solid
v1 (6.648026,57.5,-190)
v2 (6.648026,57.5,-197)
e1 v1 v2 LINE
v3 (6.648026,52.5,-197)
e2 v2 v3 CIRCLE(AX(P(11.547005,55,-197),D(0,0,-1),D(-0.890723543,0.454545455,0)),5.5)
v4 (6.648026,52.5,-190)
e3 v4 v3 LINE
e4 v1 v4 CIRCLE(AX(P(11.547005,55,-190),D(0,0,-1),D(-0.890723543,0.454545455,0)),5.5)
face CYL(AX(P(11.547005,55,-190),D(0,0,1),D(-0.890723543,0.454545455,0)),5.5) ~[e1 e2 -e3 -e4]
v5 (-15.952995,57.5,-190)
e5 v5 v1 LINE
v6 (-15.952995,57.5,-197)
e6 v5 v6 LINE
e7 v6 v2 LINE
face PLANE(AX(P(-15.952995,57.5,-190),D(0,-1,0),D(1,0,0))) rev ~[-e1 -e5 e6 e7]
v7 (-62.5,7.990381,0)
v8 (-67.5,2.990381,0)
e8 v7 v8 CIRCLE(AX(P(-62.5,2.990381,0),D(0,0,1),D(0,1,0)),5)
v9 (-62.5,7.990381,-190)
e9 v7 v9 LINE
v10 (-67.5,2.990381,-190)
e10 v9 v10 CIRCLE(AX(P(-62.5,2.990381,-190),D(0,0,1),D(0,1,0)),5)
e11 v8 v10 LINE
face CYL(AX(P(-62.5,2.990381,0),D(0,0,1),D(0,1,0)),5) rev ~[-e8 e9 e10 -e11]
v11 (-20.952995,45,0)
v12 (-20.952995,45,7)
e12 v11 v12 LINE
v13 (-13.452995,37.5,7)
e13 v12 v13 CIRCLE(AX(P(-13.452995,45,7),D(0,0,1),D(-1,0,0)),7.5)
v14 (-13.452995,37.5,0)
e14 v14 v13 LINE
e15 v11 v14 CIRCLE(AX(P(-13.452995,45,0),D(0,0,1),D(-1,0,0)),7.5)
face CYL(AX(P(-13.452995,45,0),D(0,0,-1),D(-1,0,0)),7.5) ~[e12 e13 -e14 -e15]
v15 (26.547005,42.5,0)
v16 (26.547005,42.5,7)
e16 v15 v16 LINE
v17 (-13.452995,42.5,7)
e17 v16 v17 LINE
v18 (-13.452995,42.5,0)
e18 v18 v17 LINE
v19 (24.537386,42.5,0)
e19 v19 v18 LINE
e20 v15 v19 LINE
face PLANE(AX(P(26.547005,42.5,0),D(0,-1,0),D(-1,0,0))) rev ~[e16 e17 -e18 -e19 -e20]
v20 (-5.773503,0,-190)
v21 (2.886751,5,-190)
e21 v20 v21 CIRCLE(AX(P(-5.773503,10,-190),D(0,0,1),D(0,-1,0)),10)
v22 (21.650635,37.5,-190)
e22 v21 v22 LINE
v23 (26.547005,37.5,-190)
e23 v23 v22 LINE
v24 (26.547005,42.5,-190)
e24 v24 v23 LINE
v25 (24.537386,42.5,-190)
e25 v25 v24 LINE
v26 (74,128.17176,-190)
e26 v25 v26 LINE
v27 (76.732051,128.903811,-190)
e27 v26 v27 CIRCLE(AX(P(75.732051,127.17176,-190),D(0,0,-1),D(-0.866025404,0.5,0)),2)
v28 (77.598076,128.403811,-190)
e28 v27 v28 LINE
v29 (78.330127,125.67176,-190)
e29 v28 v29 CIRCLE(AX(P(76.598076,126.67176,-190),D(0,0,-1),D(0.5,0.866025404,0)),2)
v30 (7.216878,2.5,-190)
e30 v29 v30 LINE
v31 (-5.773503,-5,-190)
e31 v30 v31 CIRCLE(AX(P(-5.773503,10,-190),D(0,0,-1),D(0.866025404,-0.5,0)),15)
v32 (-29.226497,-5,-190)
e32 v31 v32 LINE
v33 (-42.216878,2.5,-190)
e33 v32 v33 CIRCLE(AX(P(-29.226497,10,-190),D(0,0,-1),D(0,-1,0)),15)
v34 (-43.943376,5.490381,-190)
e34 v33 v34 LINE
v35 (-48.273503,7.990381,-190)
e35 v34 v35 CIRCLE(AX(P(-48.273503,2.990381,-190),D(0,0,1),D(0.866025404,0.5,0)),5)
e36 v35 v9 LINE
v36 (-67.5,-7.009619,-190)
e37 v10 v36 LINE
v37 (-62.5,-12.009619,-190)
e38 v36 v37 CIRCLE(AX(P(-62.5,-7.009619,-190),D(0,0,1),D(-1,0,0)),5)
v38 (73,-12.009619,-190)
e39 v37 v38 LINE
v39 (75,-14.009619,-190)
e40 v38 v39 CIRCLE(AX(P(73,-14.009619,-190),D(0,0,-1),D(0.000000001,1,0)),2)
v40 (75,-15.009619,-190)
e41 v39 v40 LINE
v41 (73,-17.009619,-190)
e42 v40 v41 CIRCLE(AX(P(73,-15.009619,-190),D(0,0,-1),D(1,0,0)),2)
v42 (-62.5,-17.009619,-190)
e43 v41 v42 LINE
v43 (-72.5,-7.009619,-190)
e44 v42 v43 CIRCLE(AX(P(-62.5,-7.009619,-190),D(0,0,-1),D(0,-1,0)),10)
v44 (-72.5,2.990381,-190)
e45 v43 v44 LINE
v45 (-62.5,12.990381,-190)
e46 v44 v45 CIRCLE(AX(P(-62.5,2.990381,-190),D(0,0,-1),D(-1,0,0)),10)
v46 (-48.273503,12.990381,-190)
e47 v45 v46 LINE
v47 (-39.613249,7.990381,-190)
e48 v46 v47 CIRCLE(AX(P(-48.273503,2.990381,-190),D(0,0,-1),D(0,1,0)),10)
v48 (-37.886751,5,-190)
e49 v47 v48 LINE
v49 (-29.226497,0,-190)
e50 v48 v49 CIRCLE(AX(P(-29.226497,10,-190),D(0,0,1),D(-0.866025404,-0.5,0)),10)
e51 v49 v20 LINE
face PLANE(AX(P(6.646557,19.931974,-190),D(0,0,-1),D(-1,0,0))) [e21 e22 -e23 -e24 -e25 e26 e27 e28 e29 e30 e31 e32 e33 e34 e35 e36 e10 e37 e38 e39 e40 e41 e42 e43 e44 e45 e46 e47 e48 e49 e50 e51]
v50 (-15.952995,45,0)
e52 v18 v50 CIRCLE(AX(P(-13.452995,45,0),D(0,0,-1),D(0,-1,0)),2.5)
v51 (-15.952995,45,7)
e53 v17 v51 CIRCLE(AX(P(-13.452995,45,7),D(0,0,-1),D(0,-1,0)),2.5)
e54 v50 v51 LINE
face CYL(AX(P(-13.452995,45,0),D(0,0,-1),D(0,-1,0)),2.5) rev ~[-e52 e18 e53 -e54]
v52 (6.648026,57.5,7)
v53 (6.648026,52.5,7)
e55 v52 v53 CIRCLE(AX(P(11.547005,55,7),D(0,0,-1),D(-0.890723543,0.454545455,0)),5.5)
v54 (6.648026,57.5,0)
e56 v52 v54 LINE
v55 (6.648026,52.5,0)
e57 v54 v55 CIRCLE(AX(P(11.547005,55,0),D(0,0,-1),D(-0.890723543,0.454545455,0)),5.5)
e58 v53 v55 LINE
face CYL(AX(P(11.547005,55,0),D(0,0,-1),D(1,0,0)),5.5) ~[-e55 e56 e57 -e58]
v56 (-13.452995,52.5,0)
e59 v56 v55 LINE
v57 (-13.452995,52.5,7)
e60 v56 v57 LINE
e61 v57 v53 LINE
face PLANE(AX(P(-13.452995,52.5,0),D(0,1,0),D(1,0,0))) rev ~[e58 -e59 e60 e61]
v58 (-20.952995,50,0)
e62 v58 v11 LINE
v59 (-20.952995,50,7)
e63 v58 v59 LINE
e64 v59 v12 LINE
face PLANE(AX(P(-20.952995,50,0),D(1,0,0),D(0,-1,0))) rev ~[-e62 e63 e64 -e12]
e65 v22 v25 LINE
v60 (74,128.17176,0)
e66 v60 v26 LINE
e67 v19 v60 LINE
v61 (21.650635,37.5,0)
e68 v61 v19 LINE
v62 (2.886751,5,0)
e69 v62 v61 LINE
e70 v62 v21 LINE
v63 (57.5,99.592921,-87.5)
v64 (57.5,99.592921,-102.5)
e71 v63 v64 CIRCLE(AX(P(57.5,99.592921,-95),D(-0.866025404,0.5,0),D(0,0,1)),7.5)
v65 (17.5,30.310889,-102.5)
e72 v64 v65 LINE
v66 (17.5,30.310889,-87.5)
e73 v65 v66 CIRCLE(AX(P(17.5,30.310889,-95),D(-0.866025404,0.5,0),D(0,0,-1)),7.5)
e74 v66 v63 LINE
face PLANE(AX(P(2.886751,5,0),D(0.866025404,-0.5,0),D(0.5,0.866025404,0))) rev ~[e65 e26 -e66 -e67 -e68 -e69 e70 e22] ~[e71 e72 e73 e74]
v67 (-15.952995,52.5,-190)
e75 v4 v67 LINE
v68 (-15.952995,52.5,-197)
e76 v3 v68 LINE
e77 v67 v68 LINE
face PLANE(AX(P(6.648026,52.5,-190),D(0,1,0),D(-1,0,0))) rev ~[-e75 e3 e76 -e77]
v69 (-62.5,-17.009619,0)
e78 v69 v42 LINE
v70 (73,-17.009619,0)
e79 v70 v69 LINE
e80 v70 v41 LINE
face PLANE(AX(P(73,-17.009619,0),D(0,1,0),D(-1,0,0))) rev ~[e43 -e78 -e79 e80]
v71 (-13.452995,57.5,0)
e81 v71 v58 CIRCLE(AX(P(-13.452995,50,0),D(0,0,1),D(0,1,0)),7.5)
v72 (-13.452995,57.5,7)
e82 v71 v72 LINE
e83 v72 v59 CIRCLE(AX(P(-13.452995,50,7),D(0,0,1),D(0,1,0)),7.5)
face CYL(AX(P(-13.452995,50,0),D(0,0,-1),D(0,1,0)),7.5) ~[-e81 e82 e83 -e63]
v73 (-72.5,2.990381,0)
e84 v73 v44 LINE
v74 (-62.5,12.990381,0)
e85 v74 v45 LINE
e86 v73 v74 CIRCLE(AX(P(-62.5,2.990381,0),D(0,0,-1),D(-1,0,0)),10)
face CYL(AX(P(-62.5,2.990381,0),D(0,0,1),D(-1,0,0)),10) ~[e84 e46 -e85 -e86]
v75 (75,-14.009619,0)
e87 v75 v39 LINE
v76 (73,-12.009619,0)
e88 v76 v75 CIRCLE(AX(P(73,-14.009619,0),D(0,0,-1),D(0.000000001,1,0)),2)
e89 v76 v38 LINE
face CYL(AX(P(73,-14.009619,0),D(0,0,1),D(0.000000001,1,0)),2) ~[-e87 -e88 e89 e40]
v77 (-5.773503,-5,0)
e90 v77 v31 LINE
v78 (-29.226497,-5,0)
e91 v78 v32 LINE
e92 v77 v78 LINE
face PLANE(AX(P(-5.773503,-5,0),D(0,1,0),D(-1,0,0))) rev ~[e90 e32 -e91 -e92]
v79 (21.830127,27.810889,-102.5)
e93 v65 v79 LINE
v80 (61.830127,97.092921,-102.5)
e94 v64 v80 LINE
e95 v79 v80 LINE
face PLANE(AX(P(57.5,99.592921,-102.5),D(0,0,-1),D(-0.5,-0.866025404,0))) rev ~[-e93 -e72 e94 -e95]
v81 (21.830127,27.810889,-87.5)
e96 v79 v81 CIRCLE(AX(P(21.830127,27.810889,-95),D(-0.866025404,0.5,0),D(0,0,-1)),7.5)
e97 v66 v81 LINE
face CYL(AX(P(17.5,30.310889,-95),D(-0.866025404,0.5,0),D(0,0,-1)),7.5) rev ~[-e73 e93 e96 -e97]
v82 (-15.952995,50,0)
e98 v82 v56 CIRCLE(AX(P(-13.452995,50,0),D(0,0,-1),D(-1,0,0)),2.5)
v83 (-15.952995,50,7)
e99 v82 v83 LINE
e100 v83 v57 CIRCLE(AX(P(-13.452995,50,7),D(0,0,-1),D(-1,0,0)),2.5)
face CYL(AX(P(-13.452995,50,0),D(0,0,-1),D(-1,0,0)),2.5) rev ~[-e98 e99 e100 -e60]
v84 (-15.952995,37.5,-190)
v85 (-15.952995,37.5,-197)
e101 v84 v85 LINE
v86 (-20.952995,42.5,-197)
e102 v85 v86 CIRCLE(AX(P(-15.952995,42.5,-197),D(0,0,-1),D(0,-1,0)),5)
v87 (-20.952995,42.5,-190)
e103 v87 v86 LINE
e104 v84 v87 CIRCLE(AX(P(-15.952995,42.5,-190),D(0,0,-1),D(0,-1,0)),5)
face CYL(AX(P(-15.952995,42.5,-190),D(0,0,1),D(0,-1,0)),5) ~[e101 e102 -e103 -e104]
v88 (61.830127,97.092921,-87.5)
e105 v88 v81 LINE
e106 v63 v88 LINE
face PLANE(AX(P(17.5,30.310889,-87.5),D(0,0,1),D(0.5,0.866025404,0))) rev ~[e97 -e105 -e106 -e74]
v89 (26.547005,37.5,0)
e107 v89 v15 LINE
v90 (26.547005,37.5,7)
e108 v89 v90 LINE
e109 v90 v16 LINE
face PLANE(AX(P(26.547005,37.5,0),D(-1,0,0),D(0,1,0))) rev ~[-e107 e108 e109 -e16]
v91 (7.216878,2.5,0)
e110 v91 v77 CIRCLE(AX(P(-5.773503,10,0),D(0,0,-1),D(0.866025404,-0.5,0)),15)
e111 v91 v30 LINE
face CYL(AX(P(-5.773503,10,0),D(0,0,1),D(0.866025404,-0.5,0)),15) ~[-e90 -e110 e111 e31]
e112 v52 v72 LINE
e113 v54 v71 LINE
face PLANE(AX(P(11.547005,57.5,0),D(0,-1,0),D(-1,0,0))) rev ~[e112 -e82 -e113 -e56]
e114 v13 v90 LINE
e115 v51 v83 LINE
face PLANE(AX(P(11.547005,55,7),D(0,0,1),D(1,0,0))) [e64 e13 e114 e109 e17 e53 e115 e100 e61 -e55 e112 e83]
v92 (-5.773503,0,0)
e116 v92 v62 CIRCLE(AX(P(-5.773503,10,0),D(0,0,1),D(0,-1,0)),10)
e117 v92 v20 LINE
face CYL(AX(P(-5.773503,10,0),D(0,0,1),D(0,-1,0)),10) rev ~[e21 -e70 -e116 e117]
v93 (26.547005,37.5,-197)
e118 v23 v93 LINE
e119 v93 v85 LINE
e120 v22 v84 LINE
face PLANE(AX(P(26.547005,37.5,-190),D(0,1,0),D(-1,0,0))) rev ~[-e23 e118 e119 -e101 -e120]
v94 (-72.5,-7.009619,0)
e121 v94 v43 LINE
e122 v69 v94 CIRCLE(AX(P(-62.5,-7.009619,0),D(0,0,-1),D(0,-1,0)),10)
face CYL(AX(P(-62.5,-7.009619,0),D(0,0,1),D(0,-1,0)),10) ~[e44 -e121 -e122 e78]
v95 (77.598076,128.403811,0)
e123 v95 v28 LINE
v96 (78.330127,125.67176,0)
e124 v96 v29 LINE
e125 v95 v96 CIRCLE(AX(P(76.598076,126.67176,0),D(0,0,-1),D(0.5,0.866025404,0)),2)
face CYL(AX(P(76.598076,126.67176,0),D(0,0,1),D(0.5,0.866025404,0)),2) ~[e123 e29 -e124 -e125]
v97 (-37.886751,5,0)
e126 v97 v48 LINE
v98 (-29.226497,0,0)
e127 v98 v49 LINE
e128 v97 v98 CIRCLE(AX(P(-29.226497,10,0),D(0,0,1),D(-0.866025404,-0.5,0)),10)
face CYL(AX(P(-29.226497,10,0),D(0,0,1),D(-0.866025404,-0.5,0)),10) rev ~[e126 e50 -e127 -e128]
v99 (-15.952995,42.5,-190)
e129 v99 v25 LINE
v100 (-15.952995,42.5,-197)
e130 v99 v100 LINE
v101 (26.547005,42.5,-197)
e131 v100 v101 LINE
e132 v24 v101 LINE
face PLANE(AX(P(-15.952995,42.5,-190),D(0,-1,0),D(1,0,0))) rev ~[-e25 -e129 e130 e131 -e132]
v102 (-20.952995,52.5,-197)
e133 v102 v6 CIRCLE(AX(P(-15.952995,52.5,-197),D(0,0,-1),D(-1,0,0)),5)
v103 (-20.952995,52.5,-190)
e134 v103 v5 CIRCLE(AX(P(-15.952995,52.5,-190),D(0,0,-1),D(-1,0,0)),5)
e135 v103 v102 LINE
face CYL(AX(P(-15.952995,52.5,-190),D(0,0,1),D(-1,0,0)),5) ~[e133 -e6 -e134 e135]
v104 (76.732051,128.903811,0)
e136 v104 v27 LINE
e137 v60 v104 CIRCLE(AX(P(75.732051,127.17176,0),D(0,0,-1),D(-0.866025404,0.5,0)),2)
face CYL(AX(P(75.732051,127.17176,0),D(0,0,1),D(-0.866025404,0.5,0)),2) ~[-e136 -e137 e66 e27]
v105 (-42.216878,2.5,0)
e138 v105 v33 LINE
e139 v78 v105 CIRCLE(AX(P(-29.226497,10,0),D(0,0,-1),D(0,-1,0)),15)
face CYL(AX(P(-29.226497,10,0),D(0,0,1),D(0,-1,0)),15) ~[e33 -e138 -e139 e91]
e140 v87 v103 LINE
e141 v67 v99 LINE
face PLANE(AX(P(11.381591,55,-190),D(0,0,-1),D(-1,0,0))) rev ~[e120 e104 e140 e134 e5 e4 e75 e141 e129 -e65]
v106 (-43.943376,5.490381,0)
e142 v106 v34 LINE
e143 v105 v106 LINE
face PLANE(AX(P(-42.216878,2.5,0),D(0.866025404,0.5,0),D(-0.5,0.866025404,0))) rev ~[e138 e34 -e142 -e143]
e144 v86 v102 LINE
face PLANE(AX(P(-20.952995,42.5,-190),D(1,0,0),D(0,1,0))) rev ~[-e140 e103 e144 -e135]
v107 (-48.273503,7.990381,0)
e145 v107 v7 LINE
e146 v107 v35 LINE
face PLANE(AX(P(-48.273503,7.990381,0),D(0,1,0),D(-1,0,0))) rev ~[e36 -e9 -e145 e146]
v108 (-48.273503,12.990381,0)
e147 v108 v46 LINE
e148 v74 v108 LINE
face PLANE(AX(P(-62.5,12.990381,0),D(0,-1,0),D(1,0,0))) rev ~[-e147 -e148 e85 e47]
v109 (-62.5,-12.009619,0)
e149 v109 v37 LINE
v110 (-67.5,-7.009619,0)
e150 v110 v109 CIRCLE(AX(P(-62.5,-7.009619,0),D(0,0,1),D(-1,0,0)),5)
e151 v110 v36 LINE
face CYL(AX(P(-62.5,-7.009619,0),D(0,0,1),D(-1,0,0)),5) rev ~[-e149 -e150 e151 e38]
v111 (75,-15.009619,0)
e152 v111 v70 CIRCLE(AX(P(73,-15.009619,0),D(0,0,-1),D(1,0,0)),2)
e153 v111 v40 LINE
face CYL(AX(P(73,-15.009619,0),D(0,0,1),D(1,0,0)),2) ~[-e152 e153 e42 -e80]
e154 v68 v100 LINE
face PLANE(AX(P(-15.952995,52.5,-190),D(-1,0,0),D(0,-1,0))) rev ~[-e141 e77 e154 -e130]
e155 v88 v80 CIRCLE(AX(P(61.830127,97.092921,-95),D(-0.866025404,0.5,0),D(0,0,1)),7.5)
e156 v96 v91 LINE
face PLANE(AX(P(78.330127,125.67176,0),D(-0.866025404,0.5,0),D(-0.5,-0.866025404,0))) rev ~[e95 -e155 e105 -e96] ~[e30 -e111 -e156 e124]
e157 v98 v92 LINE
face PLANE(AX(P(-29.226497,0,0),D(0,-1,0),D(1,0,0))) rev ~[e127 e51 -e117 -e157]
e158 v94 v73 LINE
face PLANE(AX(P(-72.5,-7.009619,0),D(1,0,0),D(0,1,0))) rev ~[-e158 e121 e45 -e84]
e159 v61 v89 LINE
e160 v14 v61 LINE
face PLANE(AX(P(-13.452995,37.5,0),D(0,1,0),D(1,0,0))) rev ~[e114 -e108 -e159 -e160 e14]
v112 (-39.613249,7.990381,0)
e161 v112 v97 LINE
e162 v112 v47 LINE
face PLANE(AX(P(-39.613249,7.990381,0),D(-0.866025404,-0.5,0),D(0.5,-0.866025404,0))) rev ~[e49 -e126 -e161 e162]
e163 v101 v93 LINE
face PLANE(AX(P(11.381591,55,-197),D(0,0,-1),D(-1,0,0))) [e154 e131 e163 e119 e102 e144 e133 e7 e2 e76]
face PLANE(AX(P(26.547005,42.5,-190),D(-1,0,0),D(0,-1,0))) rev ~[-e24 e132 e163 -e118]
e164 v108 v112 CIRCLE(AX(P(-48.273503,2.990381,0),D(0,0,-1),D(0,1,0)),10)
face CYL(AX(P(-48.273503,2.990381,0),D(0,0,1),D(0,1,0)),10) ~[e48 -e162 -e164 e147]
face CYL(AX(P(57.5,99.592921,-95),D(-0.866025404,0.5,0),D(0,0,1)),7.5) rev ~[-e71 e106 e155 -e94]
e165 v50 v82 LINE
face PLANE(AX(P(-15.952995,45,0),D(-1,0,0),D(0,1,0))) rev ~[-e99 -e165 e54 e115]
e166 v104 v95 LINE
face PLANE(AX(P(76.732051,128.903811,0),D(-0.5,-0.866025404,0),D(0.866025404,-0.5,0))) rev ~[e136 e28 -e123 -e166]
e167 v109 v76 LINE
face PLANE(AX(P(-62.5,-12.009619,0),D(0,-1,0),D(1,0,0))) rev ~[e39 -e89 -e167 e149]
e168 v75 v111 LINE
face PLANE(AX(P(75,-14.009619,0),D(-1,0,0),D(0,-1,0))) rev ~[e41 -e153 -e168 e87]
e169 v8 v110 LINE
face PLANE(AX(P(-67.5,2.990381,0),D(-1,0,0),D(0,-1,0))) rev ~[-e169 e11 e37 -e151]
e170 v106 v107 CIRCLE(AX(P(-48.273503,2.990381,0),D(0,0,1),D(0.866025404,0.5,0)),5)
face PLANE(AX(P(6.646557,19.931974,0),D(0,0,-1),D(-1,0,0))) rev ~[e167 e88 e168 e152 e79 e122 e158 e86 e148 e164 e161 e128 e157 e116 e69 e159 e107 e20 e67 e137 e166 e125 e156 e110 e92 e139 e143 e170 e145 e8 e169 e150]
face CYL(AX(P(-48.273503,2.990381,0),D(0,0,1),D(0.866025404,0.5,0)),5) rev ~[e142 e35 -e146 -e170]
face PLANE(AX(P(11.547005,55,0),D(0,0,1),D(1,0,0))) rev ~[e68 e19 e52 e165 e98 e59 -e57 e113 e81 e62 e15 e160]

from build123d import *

# Parameters (mm, degrees)
EXTRUDE_12_DEPTH    = 190
CUT_EXTRUDE_1_REACH = 78.573
SKETCH_3_12_R       = 5.5
EXTRUDE_13_DEPTH    = 7
EXTRUDE_14_DEPTH    = 7
EXTRUDE_16_DEPTH    = 7


with BuildPart() as part:
    # Sketch 3 → Extrude 12 (new body)
    with BuildSketch(Plane.XY):
        with BuildLine():
            ThreePointArc((74, 128.17175976), (75.214412717, 129.103611413), (76.732050808, 128.903810568))
            Line((76.732050808, 128.903810568), (77.598076211, 128.403810568))
            ThreePointArc((77.598076211, 128.403810568), (78.529927864, 127.18939785), (78.330127019, 125.67175976))
            Line((78.330127019, 125.67175976), (7.216878365, 2.5))
            ThreePointArc((7.216878365, 2.5), (1.726497308, -2.990381057), (-5.773502692, -5))
            Line((-5.773502692, -5), (-29.226497308, -5))
            ThreePointArc((-29.226497308, -5), (-36.726497308, -2.990381057), (-42.216878365, 2.5))
            Line((-42.216878365, 2.5), (-43.943375673, 5.490381057))
            ThreePointArc((-43.943375673, 5.490381057), (-45.773502692, 7.320508076), (-48.273502692, 7.990381057))
            Line((-48.273502692, 7.990381057), (-62.5, 7.990381057))
            ThreePointArc((-62.5, 7.990381057), (-66.035533906, 6.525914963), (-67.5, 2.990381057))
            Line((-67.5, 2.990381057), (-67.5, -7.009618943))
            ThreePointArc((-67.5, -7.009618943), (-66.035533906, -10.545152849), (-62.5, -12.009618943))
            Line((-62.5, -12.009618943), (73, -12.009618943))
            ThreePointArc((73, -12.009618943), (74.414213562, -12.595405381), (75, -14.009618943))
            Line((75, -14.009618943), (75, -15.009618943))
            ThreePointArc((75, -15.009618943), (74.414213562, -16.423832506), (73, -17.009618943))
            Line((73, -17.009618943), (-62.5, -17.009618943))
            ThreePointArc((-62.5, -17.009618943), (-69.571067812, -14.080686755), (-72.5, -7.009618943))
            Line((-72.5, -7.009618943), (-72.5, 2.990381057))
            ThreePointArc((-72.5, 2.990381057), (-69.571067812, 10.061448869), (-62.5, 12.990381057))
            Line((-62.5, 12.990381057), (-48.273502692, 12.990381057))
            ThreePointArc((-48.273502692, 12.990381057), (-43.273502692, 11.650635095), (-39.613248654, 7.990381057))
            Line((-39.613248654, 7.990381057), (-37.886751346, 5))
            ThreePointArc((-37.886751346, 5), (-34.226497308, 1.339745962), (-29.226497308, 0))
            Line((-29.226497308, 0), (-5.773502692, 0))
            ThreePointArc((-5.773502692, 0), (-0.773502692, 1.339745962), (2.886751346, 5))
            Line((2.886751346, 5), (74, 128.17175976))
        make_face()
    extrude(amount=-EXTRUDE_12_DEPTH)

    # Sketch 19 → Cut-Extrude 1 (cut, up to next)
    with BuildSketch(Plane(origin=(0, 0, 0), x_dir=(0, 0, 1), z_dir=(-0.866025404, 0.5, 0)), mode=Mode.PRIVATE) as cut_extrude_1_sk1:
        with BuildLine():
            Line((-95, 107.5), (-95, 115))
            Line((-95, 115), (-102.5, 115))
            ThreePointArc((-102.5, 115), (-100.303300859, 109.696699141), (-95, 107.5))
        make_face()
    cut_extrude_1_tool1 = extrude(cut_extrude_1_sk1.sketch, amount=-CUT_EXTRUDE_1_REACH, mode=Mode.PRIVATE) & part.part
    add(cut_extrude_1_tool1.solids().sort_by_distance((55.908451, 96.836277, -98.183099))[0], mode=Mode.SUBTRACT)
    # Sketch 19 → Cut-Extrude 1 (cut, up to next)
    with BuildSketch(Plane(origin=(0, 0, 0), x_dir=(0, 0, 1), z_dir=(-0.866025404, 0.5, 0)), mode=Mode.PRIVATE) as cut_extrude_1_sk2:
        with BuildLine():
            Line((-87.5, 115), (-95, 115))
            Line((-95, 115), (-95, 107.5))
            ThreePointArc((-95, 107.5), (-89.696699141, 109.696699141), (-87.5, 115))
        make_face()
    cut_extrude_1_tool2 = extrude(cut_extrude_1_sk2.sketch, amount=-CUT_EXTRUDE_1_REACH, mode=Mode.PRIVATE) & part.part
    add(cut_extrude_1_tool2.solids().sort_by_distance((55.908451, 96.836277, -91.816901))[0], mode=Mode.SUBTRACT)
    # Sketch 19 → Cut-Extrude 1 (cut, up to next)
    with BuildSketch(Plane(origin=(0, 0, 0), x_dir=(0, 0, 1), z_dir=(-0.866025404, 0.5, 0)), mode=Mode.PRIVATE) as cut_extrude_1_sk3:
        with BuildLine():
            Line((-102.5, 115), (-95, 115))
            Line((-95, 115), (-87.5, 115))
            ThreePointArc((-87.5, 115), (-95, 122.5), (-102.5, 115))
        make_face()
    cut_extrude_1_tool3 = extrude(cut_extrude_1_sk3.sketch, amount=-CUT_EXTRUDE_1_REACH, mode=Mode.PRIVATE) & part.part
    add(cut_extrude_1_tool3.solids().sort_by_distance((59.091549, 102.349566, -95))[0], mode=Mode.SUBTRACT)
    # Sketch 19 → Cut-Extrude 1 (cut, up to next)
    with BuildSketch(Plane(origin=(0, 0, 0), x_dir=(0, 0, 1), z_dir=(-0.866025404, 0.5, 0)), mode=Mode.PRIVATE) as cut_extrude_1_sk4:
        with BuildLine():
            ThreePointArc((-95, 107.5), (-100.303300859, 109.696699141), (-102.5, 115))
            Line((-102.5, 115), (-102.5, 35))
            ThreePointArc((-102.5, 35), (-100.303300859, 40.303300859), (-95, 42.5))
            Line((-95, 42.5), (-95, 107.5))
        make_face()
    cut_extrude_1_tool4 = extrude(cut_extrude_1_sk4.sketch, amount=-CUT_EXTRUDE_1_REACH, mode=Mode.PRIVATE) & part.part
    add(cut_extrude_1_tool4.solids().sort_by_distance((37.5, 64.951905, -98.8479))[0], mode=Mode.SUBTRACT)
    # Sketch 19 → Cut-Extrude 1 (cut, up to next)
    with BuildSketch(Plane(origin=(0, 0, 0), x_dir=(0, 0, 1), z_dir=(-0.866025404, 0.5, 0)), mode=Mode.PRIVATE) as cut_extrude_1_sk5:
        with BuildLine():
            ThreePointArc((-87.5, 115), (-89.696699141, 109.696699141), (-95, 107.5))
            Line((-95, 107.5), (-95, 42.5))
            ThreePointArc((-95, 42.5), (-89.696699141, 40.303300859), (-87.5, 35))
            Line((-87.5, 35), (-87.5, 115))
        make_face()
    cut_extrude_1_tool5 = extrude(cut_extrude_1_sk5.sketch, amount=-CUT_EXTRUDE_1_REACH, mode=Mode.PRIVATE) & part.part
    add(cut_extrude_1_tool5.solids().sort_by_distance((37.5, 64.951905, -91.1521))[0], mode=Mode.SUBTRACT)
    # Sketch 19 → Cut-Extrude 1 (cut, up to next)
    with BuildSketch(Plane(origin=(0, 0, 0), x_dir=(0, 0, 1), z_dir=(-0.866025404, 0.5, 0)), mode=Mode.PRIVATE) as cut_extrude_1_sk6:
        with BuildLine():
            ThreePointArc((-95, 42.5), (-100.303300859, 40.303300859), (-102.5, 35))
            Line((-102.5, 35), (-95, 35))
            Line((-95, 35), (-95, 42.5))
        make_face()
    cut_extrude_1_tool6 = extrude(cut_extrude_1_sk6.sketch, amount=-CUT_EXTRUDE_1_REACH, mode=Mode.PRIVATE) & part.part
    add(cut_extrude_1_tool6.solids().sort_by_distance((19.091549, 33.067534, -98.183099))[0], mode=Mode.SUBTRACT)
    # Sketch 19 → Cut-Extrude 1 (cut, up to next)
    with BuildSketch(Plane(origin=(0, 0, 0), x_dir=(0, 0, 1), z_dir=(-0.866025404, 0.5, 0)), mode=Mode.PRIVATE) as cut_extrude_1_sk7:
        with BuildLine():
            Line((-95, 35), (-102.5, 35))
            ThreePointArc((-102.5, 35), (-95, 27.5), (-87.5, 35))
            Line((-87.5, 35), (-95, 35))
        make_face()
    cut_extrude_1_tool7 = extrude(cut_extrude_1_sk7.sketch, amount=-CUT_EXTRUDE_1_REACH, mode=Mode.PRIVATE) & part.part
    add(cut_extrude_1_tool7.solids().sort_by_distance((15.908451, 27.554245, -95))[0], mode=Mode.SUBTRACT)
    # Sketch 19 → Cut-Extrude 1 (cut, up to next)
    with BuildSketch(Plane(origin=(0, 0, 0), x_dir=(0, 0, 1), z_dir=(-0.866025404, 0.5, 0)), mode=Mode.PRIVATE) as cut_extrude_1_sk8:
        with BuildLine():
            ThreePointArc((-87.5, 35), (-89.696699141, 40.303300859), (-95, 42.5))
            Line((-95, 42.5), (-95, 35))
            Line((-95, 35), (-87.5, 35))
        make_face()
    cut_extrude_1_tool8 = extrude(cut_extrude_1_sk8.sketch, amount=-CUT_EXTRUDE_1_REACH, mode=Mode.PRIVATE) & part.part
    add(cut_extrude_1_tool8.solids().sort_by_distance((19.091549, 33.067534, -91.816901))[0], mode=Mode.SUBTRACT)



with BuildPart() as body_2:
    # Sketch 3_12 → Extrude 13 (new body)
    with BuildSketch(Plane.XY):
        with Locations((11.547005384, 55)):
            Circle(SKETCH_3_12_R)
    extrude(amount=EXTRUDE_13_DEPTH)


with BuildPart() as part_1:
    add(part.part)

    add(body_2.part)  # Extrude 14 merges body 2
    # Sketch 20 → Extrude 14 (add)
    with BuildSketch(Plane.XY):
        with BuildLine():
            Line((-13.452994616, 55), (11.547005384, 55))
            Line((11.547005384, 55), (11.547005384, 57.5))
            Line((11.547005384, 57.5), (-13.452994616, 57.5))
            ThreePointArc((-13.452994616, 57.5), (-18.756295475, 55.303300859), (-20.952994616, 50))
            Line((-20.952994616, 50), (-20.952994616, 45))
            ThreePointArc((-20.952994616, 45), (-18.756295475, 39.696699141), (-13.452994616, 37.5))
            Line((-13.452994616, 37.5), (26.547005384, 37.5))
            Line((26.547005384, 37.5), (26.547005384, 40))
            Line((26.547005384, 40), (-13.452994616, 40))
            ThreePointArc((-13.452994616, 40), (-16.988528522, 41.464466094), (-18.452994616, 45))
            Line((-18.452994616, 45), (-18.452994616, 50))
            ThreePointArc((-18.452994616, 50), (-16.988528522, 53.535533906), (-13.452994616, 55))
        make_face()
        with BuildLine():
            Line((11.547005384, 52.5), (11.547005384, 55))
            Line((11.547005384, 55), (-13.452994616, 55))
            ThreePointArc((-13.452994616, 55), (-16.988528522, 53.535533906), (-18.452994616, 50))
            Line((-18.452994616, 50), (-18.452994616, 45))
            ThreePointArc((-18.452994616, 45), (-16.988528522, 41.464466094), (-13.452994616, 40))
            Line((-13.452994616, 40), (26.547005384, 40))
            Line((26.547005384, 40), (26.547005384, 42.5))
            Line((26.547005384, 42.5), (-13.452994616, 42.5))
            ThreePointArc((-13.452994616, 42.5), (-15.220761569, 43.232233047), (-15.952994616, 45))
            Line((-15.952994616, 45), (-15.952994616, 50))
            ThreePointArc((-15.952994616, 50), (-15.220761569, 51.767766953), (-13.452994616, 52.5))
            Line((-13.452994616, 52.5), (11.547005384, 52.5))
        make_face()
    extrude(amount=EXTRUDE_14_DEPTH)

    # Sketch 21 → Extrude 16 (add)
    with BuildSketch(Plane(origin=(0, 0, -190), x_dir=(-1, 0, 0), z_dir=(0, 0, -1))):
        with BuildLine():
            Line((-11.547005384, 52.5), (-11.547005384, 55))
            Line((-11.547005384, 55), (-11.547005384, 57.5))
            Line((-11.547005384, 57.5), (-6.648025898, 57.5))
            ThreePointArc((-6.648025898, 57.5), (-17.047005384, 55), (-6.648025898, 52.5))
            Line((-6.648025898, 52.5), (-11.547005384, 52.5))
        make_face()
        with BuildLine():
            Line((-11.547005384, 57.5), (-11.547005384, 55))
            Line((-11.547005384, 55), (-6.047005384, 55))
            ThreePointArc((-6.047005384, 55), (-6.199370992, 56.285615189), (-6.648025898, 57.5))
            Line((-6.648025898, 57.5), (-11.547005384, 57.5))
        make_face()
        with BuildLine():
            Line((-6.047005384, 55), (-11.547005384, 55))
            Line((-11.547005384, 55), (-11.547005384, 52.5))
            Line((-11.547005384, 52.5), (-6.648025898, 52.5))
            ThreePointArc((-6.648025898, 52.5), (-6.199370992, 53.714384811), (-6.047005384, 55))
        make_face()
        with BuildLine():
            ThreePointArc((-6.648025898, 57.5), (-6.199370992, 56.285615189), (-6.047005384, 55))
            Line((-6.047005384, 55), (15.952994616, 55))
            ThreePointArc((15.952994616, 55), (17.720761569, 54.267766953), (18.452994616, 52.5))
            Line((18.452994616, 52.5), (18.452994616, 42.5))
            ThreePointArc((18.452994616, 42.5), (17.720761569, 40.732233047), (15.952994616, 40))
            Line((15.952994616, 40), (-23.094010768, 40))
            Line((-23.094010768, 40), (-21.650635095, 37.5))
            Line((-21.650635095, 37.5), (15.952994616, 37.5))
            ThreePointArc((15.952994616, 37.5), (19.488528522, 38.964466094), (20.952994616, 42.5))
            Line((20.952994616, 42.5), (20.952994616, 52.5))
            ThreePointArc((20.952994616, 52.5), (19.488528522, 56.035533906), (15.952994616, 57.5))
            Line((15.952994616, 57.5), (-6.648025898, 57.5))
        make_face()
        with BuildLine():
            Line((15.952994616, 55), (-6.047005384, 55))
            ThreePointArc((-6.047005384, 55), (-6.199370992, 53.714384811), (-6.648025898, 52.5))
            Line((-6.648025898, 52.5), (15.952994616, 52.5))
            Line((15.952994616, 52.5), (15.952994616, 42.5))
            Line((15.952994616, 42.5), (-24.537386441, 42.5))
            Line((-24.537386441, 42.5), (-23.094010768, 40))
            Line((-23.094010768, 40), (15.952994616, 40))
            ThreePointArc((15.952994616, 40), (17.720761569, 40.732233047), (18.452994616, 42.5))
            Line((18.452994616, 42.5), (18.452994616, 52.5))
            ThreePointArc((18.452994616, 52.5), (17.720761569, 54.267766953), (15.952994616, 55))
        make_face()
        Polygon((-23.094010768, 40), (-24.537386441, 42.5), (-26.547005384, 42.5), (-26.547005384, 40), align=None)
        Polygon((-21.650635095, 37.5), (-23.094010768, 40), (-26.547005384, 40), (-26.547005384, 37.5), align=None)
    extrude(amount=EXTRUDE_16_DEPTH)


solid = part_1.part
